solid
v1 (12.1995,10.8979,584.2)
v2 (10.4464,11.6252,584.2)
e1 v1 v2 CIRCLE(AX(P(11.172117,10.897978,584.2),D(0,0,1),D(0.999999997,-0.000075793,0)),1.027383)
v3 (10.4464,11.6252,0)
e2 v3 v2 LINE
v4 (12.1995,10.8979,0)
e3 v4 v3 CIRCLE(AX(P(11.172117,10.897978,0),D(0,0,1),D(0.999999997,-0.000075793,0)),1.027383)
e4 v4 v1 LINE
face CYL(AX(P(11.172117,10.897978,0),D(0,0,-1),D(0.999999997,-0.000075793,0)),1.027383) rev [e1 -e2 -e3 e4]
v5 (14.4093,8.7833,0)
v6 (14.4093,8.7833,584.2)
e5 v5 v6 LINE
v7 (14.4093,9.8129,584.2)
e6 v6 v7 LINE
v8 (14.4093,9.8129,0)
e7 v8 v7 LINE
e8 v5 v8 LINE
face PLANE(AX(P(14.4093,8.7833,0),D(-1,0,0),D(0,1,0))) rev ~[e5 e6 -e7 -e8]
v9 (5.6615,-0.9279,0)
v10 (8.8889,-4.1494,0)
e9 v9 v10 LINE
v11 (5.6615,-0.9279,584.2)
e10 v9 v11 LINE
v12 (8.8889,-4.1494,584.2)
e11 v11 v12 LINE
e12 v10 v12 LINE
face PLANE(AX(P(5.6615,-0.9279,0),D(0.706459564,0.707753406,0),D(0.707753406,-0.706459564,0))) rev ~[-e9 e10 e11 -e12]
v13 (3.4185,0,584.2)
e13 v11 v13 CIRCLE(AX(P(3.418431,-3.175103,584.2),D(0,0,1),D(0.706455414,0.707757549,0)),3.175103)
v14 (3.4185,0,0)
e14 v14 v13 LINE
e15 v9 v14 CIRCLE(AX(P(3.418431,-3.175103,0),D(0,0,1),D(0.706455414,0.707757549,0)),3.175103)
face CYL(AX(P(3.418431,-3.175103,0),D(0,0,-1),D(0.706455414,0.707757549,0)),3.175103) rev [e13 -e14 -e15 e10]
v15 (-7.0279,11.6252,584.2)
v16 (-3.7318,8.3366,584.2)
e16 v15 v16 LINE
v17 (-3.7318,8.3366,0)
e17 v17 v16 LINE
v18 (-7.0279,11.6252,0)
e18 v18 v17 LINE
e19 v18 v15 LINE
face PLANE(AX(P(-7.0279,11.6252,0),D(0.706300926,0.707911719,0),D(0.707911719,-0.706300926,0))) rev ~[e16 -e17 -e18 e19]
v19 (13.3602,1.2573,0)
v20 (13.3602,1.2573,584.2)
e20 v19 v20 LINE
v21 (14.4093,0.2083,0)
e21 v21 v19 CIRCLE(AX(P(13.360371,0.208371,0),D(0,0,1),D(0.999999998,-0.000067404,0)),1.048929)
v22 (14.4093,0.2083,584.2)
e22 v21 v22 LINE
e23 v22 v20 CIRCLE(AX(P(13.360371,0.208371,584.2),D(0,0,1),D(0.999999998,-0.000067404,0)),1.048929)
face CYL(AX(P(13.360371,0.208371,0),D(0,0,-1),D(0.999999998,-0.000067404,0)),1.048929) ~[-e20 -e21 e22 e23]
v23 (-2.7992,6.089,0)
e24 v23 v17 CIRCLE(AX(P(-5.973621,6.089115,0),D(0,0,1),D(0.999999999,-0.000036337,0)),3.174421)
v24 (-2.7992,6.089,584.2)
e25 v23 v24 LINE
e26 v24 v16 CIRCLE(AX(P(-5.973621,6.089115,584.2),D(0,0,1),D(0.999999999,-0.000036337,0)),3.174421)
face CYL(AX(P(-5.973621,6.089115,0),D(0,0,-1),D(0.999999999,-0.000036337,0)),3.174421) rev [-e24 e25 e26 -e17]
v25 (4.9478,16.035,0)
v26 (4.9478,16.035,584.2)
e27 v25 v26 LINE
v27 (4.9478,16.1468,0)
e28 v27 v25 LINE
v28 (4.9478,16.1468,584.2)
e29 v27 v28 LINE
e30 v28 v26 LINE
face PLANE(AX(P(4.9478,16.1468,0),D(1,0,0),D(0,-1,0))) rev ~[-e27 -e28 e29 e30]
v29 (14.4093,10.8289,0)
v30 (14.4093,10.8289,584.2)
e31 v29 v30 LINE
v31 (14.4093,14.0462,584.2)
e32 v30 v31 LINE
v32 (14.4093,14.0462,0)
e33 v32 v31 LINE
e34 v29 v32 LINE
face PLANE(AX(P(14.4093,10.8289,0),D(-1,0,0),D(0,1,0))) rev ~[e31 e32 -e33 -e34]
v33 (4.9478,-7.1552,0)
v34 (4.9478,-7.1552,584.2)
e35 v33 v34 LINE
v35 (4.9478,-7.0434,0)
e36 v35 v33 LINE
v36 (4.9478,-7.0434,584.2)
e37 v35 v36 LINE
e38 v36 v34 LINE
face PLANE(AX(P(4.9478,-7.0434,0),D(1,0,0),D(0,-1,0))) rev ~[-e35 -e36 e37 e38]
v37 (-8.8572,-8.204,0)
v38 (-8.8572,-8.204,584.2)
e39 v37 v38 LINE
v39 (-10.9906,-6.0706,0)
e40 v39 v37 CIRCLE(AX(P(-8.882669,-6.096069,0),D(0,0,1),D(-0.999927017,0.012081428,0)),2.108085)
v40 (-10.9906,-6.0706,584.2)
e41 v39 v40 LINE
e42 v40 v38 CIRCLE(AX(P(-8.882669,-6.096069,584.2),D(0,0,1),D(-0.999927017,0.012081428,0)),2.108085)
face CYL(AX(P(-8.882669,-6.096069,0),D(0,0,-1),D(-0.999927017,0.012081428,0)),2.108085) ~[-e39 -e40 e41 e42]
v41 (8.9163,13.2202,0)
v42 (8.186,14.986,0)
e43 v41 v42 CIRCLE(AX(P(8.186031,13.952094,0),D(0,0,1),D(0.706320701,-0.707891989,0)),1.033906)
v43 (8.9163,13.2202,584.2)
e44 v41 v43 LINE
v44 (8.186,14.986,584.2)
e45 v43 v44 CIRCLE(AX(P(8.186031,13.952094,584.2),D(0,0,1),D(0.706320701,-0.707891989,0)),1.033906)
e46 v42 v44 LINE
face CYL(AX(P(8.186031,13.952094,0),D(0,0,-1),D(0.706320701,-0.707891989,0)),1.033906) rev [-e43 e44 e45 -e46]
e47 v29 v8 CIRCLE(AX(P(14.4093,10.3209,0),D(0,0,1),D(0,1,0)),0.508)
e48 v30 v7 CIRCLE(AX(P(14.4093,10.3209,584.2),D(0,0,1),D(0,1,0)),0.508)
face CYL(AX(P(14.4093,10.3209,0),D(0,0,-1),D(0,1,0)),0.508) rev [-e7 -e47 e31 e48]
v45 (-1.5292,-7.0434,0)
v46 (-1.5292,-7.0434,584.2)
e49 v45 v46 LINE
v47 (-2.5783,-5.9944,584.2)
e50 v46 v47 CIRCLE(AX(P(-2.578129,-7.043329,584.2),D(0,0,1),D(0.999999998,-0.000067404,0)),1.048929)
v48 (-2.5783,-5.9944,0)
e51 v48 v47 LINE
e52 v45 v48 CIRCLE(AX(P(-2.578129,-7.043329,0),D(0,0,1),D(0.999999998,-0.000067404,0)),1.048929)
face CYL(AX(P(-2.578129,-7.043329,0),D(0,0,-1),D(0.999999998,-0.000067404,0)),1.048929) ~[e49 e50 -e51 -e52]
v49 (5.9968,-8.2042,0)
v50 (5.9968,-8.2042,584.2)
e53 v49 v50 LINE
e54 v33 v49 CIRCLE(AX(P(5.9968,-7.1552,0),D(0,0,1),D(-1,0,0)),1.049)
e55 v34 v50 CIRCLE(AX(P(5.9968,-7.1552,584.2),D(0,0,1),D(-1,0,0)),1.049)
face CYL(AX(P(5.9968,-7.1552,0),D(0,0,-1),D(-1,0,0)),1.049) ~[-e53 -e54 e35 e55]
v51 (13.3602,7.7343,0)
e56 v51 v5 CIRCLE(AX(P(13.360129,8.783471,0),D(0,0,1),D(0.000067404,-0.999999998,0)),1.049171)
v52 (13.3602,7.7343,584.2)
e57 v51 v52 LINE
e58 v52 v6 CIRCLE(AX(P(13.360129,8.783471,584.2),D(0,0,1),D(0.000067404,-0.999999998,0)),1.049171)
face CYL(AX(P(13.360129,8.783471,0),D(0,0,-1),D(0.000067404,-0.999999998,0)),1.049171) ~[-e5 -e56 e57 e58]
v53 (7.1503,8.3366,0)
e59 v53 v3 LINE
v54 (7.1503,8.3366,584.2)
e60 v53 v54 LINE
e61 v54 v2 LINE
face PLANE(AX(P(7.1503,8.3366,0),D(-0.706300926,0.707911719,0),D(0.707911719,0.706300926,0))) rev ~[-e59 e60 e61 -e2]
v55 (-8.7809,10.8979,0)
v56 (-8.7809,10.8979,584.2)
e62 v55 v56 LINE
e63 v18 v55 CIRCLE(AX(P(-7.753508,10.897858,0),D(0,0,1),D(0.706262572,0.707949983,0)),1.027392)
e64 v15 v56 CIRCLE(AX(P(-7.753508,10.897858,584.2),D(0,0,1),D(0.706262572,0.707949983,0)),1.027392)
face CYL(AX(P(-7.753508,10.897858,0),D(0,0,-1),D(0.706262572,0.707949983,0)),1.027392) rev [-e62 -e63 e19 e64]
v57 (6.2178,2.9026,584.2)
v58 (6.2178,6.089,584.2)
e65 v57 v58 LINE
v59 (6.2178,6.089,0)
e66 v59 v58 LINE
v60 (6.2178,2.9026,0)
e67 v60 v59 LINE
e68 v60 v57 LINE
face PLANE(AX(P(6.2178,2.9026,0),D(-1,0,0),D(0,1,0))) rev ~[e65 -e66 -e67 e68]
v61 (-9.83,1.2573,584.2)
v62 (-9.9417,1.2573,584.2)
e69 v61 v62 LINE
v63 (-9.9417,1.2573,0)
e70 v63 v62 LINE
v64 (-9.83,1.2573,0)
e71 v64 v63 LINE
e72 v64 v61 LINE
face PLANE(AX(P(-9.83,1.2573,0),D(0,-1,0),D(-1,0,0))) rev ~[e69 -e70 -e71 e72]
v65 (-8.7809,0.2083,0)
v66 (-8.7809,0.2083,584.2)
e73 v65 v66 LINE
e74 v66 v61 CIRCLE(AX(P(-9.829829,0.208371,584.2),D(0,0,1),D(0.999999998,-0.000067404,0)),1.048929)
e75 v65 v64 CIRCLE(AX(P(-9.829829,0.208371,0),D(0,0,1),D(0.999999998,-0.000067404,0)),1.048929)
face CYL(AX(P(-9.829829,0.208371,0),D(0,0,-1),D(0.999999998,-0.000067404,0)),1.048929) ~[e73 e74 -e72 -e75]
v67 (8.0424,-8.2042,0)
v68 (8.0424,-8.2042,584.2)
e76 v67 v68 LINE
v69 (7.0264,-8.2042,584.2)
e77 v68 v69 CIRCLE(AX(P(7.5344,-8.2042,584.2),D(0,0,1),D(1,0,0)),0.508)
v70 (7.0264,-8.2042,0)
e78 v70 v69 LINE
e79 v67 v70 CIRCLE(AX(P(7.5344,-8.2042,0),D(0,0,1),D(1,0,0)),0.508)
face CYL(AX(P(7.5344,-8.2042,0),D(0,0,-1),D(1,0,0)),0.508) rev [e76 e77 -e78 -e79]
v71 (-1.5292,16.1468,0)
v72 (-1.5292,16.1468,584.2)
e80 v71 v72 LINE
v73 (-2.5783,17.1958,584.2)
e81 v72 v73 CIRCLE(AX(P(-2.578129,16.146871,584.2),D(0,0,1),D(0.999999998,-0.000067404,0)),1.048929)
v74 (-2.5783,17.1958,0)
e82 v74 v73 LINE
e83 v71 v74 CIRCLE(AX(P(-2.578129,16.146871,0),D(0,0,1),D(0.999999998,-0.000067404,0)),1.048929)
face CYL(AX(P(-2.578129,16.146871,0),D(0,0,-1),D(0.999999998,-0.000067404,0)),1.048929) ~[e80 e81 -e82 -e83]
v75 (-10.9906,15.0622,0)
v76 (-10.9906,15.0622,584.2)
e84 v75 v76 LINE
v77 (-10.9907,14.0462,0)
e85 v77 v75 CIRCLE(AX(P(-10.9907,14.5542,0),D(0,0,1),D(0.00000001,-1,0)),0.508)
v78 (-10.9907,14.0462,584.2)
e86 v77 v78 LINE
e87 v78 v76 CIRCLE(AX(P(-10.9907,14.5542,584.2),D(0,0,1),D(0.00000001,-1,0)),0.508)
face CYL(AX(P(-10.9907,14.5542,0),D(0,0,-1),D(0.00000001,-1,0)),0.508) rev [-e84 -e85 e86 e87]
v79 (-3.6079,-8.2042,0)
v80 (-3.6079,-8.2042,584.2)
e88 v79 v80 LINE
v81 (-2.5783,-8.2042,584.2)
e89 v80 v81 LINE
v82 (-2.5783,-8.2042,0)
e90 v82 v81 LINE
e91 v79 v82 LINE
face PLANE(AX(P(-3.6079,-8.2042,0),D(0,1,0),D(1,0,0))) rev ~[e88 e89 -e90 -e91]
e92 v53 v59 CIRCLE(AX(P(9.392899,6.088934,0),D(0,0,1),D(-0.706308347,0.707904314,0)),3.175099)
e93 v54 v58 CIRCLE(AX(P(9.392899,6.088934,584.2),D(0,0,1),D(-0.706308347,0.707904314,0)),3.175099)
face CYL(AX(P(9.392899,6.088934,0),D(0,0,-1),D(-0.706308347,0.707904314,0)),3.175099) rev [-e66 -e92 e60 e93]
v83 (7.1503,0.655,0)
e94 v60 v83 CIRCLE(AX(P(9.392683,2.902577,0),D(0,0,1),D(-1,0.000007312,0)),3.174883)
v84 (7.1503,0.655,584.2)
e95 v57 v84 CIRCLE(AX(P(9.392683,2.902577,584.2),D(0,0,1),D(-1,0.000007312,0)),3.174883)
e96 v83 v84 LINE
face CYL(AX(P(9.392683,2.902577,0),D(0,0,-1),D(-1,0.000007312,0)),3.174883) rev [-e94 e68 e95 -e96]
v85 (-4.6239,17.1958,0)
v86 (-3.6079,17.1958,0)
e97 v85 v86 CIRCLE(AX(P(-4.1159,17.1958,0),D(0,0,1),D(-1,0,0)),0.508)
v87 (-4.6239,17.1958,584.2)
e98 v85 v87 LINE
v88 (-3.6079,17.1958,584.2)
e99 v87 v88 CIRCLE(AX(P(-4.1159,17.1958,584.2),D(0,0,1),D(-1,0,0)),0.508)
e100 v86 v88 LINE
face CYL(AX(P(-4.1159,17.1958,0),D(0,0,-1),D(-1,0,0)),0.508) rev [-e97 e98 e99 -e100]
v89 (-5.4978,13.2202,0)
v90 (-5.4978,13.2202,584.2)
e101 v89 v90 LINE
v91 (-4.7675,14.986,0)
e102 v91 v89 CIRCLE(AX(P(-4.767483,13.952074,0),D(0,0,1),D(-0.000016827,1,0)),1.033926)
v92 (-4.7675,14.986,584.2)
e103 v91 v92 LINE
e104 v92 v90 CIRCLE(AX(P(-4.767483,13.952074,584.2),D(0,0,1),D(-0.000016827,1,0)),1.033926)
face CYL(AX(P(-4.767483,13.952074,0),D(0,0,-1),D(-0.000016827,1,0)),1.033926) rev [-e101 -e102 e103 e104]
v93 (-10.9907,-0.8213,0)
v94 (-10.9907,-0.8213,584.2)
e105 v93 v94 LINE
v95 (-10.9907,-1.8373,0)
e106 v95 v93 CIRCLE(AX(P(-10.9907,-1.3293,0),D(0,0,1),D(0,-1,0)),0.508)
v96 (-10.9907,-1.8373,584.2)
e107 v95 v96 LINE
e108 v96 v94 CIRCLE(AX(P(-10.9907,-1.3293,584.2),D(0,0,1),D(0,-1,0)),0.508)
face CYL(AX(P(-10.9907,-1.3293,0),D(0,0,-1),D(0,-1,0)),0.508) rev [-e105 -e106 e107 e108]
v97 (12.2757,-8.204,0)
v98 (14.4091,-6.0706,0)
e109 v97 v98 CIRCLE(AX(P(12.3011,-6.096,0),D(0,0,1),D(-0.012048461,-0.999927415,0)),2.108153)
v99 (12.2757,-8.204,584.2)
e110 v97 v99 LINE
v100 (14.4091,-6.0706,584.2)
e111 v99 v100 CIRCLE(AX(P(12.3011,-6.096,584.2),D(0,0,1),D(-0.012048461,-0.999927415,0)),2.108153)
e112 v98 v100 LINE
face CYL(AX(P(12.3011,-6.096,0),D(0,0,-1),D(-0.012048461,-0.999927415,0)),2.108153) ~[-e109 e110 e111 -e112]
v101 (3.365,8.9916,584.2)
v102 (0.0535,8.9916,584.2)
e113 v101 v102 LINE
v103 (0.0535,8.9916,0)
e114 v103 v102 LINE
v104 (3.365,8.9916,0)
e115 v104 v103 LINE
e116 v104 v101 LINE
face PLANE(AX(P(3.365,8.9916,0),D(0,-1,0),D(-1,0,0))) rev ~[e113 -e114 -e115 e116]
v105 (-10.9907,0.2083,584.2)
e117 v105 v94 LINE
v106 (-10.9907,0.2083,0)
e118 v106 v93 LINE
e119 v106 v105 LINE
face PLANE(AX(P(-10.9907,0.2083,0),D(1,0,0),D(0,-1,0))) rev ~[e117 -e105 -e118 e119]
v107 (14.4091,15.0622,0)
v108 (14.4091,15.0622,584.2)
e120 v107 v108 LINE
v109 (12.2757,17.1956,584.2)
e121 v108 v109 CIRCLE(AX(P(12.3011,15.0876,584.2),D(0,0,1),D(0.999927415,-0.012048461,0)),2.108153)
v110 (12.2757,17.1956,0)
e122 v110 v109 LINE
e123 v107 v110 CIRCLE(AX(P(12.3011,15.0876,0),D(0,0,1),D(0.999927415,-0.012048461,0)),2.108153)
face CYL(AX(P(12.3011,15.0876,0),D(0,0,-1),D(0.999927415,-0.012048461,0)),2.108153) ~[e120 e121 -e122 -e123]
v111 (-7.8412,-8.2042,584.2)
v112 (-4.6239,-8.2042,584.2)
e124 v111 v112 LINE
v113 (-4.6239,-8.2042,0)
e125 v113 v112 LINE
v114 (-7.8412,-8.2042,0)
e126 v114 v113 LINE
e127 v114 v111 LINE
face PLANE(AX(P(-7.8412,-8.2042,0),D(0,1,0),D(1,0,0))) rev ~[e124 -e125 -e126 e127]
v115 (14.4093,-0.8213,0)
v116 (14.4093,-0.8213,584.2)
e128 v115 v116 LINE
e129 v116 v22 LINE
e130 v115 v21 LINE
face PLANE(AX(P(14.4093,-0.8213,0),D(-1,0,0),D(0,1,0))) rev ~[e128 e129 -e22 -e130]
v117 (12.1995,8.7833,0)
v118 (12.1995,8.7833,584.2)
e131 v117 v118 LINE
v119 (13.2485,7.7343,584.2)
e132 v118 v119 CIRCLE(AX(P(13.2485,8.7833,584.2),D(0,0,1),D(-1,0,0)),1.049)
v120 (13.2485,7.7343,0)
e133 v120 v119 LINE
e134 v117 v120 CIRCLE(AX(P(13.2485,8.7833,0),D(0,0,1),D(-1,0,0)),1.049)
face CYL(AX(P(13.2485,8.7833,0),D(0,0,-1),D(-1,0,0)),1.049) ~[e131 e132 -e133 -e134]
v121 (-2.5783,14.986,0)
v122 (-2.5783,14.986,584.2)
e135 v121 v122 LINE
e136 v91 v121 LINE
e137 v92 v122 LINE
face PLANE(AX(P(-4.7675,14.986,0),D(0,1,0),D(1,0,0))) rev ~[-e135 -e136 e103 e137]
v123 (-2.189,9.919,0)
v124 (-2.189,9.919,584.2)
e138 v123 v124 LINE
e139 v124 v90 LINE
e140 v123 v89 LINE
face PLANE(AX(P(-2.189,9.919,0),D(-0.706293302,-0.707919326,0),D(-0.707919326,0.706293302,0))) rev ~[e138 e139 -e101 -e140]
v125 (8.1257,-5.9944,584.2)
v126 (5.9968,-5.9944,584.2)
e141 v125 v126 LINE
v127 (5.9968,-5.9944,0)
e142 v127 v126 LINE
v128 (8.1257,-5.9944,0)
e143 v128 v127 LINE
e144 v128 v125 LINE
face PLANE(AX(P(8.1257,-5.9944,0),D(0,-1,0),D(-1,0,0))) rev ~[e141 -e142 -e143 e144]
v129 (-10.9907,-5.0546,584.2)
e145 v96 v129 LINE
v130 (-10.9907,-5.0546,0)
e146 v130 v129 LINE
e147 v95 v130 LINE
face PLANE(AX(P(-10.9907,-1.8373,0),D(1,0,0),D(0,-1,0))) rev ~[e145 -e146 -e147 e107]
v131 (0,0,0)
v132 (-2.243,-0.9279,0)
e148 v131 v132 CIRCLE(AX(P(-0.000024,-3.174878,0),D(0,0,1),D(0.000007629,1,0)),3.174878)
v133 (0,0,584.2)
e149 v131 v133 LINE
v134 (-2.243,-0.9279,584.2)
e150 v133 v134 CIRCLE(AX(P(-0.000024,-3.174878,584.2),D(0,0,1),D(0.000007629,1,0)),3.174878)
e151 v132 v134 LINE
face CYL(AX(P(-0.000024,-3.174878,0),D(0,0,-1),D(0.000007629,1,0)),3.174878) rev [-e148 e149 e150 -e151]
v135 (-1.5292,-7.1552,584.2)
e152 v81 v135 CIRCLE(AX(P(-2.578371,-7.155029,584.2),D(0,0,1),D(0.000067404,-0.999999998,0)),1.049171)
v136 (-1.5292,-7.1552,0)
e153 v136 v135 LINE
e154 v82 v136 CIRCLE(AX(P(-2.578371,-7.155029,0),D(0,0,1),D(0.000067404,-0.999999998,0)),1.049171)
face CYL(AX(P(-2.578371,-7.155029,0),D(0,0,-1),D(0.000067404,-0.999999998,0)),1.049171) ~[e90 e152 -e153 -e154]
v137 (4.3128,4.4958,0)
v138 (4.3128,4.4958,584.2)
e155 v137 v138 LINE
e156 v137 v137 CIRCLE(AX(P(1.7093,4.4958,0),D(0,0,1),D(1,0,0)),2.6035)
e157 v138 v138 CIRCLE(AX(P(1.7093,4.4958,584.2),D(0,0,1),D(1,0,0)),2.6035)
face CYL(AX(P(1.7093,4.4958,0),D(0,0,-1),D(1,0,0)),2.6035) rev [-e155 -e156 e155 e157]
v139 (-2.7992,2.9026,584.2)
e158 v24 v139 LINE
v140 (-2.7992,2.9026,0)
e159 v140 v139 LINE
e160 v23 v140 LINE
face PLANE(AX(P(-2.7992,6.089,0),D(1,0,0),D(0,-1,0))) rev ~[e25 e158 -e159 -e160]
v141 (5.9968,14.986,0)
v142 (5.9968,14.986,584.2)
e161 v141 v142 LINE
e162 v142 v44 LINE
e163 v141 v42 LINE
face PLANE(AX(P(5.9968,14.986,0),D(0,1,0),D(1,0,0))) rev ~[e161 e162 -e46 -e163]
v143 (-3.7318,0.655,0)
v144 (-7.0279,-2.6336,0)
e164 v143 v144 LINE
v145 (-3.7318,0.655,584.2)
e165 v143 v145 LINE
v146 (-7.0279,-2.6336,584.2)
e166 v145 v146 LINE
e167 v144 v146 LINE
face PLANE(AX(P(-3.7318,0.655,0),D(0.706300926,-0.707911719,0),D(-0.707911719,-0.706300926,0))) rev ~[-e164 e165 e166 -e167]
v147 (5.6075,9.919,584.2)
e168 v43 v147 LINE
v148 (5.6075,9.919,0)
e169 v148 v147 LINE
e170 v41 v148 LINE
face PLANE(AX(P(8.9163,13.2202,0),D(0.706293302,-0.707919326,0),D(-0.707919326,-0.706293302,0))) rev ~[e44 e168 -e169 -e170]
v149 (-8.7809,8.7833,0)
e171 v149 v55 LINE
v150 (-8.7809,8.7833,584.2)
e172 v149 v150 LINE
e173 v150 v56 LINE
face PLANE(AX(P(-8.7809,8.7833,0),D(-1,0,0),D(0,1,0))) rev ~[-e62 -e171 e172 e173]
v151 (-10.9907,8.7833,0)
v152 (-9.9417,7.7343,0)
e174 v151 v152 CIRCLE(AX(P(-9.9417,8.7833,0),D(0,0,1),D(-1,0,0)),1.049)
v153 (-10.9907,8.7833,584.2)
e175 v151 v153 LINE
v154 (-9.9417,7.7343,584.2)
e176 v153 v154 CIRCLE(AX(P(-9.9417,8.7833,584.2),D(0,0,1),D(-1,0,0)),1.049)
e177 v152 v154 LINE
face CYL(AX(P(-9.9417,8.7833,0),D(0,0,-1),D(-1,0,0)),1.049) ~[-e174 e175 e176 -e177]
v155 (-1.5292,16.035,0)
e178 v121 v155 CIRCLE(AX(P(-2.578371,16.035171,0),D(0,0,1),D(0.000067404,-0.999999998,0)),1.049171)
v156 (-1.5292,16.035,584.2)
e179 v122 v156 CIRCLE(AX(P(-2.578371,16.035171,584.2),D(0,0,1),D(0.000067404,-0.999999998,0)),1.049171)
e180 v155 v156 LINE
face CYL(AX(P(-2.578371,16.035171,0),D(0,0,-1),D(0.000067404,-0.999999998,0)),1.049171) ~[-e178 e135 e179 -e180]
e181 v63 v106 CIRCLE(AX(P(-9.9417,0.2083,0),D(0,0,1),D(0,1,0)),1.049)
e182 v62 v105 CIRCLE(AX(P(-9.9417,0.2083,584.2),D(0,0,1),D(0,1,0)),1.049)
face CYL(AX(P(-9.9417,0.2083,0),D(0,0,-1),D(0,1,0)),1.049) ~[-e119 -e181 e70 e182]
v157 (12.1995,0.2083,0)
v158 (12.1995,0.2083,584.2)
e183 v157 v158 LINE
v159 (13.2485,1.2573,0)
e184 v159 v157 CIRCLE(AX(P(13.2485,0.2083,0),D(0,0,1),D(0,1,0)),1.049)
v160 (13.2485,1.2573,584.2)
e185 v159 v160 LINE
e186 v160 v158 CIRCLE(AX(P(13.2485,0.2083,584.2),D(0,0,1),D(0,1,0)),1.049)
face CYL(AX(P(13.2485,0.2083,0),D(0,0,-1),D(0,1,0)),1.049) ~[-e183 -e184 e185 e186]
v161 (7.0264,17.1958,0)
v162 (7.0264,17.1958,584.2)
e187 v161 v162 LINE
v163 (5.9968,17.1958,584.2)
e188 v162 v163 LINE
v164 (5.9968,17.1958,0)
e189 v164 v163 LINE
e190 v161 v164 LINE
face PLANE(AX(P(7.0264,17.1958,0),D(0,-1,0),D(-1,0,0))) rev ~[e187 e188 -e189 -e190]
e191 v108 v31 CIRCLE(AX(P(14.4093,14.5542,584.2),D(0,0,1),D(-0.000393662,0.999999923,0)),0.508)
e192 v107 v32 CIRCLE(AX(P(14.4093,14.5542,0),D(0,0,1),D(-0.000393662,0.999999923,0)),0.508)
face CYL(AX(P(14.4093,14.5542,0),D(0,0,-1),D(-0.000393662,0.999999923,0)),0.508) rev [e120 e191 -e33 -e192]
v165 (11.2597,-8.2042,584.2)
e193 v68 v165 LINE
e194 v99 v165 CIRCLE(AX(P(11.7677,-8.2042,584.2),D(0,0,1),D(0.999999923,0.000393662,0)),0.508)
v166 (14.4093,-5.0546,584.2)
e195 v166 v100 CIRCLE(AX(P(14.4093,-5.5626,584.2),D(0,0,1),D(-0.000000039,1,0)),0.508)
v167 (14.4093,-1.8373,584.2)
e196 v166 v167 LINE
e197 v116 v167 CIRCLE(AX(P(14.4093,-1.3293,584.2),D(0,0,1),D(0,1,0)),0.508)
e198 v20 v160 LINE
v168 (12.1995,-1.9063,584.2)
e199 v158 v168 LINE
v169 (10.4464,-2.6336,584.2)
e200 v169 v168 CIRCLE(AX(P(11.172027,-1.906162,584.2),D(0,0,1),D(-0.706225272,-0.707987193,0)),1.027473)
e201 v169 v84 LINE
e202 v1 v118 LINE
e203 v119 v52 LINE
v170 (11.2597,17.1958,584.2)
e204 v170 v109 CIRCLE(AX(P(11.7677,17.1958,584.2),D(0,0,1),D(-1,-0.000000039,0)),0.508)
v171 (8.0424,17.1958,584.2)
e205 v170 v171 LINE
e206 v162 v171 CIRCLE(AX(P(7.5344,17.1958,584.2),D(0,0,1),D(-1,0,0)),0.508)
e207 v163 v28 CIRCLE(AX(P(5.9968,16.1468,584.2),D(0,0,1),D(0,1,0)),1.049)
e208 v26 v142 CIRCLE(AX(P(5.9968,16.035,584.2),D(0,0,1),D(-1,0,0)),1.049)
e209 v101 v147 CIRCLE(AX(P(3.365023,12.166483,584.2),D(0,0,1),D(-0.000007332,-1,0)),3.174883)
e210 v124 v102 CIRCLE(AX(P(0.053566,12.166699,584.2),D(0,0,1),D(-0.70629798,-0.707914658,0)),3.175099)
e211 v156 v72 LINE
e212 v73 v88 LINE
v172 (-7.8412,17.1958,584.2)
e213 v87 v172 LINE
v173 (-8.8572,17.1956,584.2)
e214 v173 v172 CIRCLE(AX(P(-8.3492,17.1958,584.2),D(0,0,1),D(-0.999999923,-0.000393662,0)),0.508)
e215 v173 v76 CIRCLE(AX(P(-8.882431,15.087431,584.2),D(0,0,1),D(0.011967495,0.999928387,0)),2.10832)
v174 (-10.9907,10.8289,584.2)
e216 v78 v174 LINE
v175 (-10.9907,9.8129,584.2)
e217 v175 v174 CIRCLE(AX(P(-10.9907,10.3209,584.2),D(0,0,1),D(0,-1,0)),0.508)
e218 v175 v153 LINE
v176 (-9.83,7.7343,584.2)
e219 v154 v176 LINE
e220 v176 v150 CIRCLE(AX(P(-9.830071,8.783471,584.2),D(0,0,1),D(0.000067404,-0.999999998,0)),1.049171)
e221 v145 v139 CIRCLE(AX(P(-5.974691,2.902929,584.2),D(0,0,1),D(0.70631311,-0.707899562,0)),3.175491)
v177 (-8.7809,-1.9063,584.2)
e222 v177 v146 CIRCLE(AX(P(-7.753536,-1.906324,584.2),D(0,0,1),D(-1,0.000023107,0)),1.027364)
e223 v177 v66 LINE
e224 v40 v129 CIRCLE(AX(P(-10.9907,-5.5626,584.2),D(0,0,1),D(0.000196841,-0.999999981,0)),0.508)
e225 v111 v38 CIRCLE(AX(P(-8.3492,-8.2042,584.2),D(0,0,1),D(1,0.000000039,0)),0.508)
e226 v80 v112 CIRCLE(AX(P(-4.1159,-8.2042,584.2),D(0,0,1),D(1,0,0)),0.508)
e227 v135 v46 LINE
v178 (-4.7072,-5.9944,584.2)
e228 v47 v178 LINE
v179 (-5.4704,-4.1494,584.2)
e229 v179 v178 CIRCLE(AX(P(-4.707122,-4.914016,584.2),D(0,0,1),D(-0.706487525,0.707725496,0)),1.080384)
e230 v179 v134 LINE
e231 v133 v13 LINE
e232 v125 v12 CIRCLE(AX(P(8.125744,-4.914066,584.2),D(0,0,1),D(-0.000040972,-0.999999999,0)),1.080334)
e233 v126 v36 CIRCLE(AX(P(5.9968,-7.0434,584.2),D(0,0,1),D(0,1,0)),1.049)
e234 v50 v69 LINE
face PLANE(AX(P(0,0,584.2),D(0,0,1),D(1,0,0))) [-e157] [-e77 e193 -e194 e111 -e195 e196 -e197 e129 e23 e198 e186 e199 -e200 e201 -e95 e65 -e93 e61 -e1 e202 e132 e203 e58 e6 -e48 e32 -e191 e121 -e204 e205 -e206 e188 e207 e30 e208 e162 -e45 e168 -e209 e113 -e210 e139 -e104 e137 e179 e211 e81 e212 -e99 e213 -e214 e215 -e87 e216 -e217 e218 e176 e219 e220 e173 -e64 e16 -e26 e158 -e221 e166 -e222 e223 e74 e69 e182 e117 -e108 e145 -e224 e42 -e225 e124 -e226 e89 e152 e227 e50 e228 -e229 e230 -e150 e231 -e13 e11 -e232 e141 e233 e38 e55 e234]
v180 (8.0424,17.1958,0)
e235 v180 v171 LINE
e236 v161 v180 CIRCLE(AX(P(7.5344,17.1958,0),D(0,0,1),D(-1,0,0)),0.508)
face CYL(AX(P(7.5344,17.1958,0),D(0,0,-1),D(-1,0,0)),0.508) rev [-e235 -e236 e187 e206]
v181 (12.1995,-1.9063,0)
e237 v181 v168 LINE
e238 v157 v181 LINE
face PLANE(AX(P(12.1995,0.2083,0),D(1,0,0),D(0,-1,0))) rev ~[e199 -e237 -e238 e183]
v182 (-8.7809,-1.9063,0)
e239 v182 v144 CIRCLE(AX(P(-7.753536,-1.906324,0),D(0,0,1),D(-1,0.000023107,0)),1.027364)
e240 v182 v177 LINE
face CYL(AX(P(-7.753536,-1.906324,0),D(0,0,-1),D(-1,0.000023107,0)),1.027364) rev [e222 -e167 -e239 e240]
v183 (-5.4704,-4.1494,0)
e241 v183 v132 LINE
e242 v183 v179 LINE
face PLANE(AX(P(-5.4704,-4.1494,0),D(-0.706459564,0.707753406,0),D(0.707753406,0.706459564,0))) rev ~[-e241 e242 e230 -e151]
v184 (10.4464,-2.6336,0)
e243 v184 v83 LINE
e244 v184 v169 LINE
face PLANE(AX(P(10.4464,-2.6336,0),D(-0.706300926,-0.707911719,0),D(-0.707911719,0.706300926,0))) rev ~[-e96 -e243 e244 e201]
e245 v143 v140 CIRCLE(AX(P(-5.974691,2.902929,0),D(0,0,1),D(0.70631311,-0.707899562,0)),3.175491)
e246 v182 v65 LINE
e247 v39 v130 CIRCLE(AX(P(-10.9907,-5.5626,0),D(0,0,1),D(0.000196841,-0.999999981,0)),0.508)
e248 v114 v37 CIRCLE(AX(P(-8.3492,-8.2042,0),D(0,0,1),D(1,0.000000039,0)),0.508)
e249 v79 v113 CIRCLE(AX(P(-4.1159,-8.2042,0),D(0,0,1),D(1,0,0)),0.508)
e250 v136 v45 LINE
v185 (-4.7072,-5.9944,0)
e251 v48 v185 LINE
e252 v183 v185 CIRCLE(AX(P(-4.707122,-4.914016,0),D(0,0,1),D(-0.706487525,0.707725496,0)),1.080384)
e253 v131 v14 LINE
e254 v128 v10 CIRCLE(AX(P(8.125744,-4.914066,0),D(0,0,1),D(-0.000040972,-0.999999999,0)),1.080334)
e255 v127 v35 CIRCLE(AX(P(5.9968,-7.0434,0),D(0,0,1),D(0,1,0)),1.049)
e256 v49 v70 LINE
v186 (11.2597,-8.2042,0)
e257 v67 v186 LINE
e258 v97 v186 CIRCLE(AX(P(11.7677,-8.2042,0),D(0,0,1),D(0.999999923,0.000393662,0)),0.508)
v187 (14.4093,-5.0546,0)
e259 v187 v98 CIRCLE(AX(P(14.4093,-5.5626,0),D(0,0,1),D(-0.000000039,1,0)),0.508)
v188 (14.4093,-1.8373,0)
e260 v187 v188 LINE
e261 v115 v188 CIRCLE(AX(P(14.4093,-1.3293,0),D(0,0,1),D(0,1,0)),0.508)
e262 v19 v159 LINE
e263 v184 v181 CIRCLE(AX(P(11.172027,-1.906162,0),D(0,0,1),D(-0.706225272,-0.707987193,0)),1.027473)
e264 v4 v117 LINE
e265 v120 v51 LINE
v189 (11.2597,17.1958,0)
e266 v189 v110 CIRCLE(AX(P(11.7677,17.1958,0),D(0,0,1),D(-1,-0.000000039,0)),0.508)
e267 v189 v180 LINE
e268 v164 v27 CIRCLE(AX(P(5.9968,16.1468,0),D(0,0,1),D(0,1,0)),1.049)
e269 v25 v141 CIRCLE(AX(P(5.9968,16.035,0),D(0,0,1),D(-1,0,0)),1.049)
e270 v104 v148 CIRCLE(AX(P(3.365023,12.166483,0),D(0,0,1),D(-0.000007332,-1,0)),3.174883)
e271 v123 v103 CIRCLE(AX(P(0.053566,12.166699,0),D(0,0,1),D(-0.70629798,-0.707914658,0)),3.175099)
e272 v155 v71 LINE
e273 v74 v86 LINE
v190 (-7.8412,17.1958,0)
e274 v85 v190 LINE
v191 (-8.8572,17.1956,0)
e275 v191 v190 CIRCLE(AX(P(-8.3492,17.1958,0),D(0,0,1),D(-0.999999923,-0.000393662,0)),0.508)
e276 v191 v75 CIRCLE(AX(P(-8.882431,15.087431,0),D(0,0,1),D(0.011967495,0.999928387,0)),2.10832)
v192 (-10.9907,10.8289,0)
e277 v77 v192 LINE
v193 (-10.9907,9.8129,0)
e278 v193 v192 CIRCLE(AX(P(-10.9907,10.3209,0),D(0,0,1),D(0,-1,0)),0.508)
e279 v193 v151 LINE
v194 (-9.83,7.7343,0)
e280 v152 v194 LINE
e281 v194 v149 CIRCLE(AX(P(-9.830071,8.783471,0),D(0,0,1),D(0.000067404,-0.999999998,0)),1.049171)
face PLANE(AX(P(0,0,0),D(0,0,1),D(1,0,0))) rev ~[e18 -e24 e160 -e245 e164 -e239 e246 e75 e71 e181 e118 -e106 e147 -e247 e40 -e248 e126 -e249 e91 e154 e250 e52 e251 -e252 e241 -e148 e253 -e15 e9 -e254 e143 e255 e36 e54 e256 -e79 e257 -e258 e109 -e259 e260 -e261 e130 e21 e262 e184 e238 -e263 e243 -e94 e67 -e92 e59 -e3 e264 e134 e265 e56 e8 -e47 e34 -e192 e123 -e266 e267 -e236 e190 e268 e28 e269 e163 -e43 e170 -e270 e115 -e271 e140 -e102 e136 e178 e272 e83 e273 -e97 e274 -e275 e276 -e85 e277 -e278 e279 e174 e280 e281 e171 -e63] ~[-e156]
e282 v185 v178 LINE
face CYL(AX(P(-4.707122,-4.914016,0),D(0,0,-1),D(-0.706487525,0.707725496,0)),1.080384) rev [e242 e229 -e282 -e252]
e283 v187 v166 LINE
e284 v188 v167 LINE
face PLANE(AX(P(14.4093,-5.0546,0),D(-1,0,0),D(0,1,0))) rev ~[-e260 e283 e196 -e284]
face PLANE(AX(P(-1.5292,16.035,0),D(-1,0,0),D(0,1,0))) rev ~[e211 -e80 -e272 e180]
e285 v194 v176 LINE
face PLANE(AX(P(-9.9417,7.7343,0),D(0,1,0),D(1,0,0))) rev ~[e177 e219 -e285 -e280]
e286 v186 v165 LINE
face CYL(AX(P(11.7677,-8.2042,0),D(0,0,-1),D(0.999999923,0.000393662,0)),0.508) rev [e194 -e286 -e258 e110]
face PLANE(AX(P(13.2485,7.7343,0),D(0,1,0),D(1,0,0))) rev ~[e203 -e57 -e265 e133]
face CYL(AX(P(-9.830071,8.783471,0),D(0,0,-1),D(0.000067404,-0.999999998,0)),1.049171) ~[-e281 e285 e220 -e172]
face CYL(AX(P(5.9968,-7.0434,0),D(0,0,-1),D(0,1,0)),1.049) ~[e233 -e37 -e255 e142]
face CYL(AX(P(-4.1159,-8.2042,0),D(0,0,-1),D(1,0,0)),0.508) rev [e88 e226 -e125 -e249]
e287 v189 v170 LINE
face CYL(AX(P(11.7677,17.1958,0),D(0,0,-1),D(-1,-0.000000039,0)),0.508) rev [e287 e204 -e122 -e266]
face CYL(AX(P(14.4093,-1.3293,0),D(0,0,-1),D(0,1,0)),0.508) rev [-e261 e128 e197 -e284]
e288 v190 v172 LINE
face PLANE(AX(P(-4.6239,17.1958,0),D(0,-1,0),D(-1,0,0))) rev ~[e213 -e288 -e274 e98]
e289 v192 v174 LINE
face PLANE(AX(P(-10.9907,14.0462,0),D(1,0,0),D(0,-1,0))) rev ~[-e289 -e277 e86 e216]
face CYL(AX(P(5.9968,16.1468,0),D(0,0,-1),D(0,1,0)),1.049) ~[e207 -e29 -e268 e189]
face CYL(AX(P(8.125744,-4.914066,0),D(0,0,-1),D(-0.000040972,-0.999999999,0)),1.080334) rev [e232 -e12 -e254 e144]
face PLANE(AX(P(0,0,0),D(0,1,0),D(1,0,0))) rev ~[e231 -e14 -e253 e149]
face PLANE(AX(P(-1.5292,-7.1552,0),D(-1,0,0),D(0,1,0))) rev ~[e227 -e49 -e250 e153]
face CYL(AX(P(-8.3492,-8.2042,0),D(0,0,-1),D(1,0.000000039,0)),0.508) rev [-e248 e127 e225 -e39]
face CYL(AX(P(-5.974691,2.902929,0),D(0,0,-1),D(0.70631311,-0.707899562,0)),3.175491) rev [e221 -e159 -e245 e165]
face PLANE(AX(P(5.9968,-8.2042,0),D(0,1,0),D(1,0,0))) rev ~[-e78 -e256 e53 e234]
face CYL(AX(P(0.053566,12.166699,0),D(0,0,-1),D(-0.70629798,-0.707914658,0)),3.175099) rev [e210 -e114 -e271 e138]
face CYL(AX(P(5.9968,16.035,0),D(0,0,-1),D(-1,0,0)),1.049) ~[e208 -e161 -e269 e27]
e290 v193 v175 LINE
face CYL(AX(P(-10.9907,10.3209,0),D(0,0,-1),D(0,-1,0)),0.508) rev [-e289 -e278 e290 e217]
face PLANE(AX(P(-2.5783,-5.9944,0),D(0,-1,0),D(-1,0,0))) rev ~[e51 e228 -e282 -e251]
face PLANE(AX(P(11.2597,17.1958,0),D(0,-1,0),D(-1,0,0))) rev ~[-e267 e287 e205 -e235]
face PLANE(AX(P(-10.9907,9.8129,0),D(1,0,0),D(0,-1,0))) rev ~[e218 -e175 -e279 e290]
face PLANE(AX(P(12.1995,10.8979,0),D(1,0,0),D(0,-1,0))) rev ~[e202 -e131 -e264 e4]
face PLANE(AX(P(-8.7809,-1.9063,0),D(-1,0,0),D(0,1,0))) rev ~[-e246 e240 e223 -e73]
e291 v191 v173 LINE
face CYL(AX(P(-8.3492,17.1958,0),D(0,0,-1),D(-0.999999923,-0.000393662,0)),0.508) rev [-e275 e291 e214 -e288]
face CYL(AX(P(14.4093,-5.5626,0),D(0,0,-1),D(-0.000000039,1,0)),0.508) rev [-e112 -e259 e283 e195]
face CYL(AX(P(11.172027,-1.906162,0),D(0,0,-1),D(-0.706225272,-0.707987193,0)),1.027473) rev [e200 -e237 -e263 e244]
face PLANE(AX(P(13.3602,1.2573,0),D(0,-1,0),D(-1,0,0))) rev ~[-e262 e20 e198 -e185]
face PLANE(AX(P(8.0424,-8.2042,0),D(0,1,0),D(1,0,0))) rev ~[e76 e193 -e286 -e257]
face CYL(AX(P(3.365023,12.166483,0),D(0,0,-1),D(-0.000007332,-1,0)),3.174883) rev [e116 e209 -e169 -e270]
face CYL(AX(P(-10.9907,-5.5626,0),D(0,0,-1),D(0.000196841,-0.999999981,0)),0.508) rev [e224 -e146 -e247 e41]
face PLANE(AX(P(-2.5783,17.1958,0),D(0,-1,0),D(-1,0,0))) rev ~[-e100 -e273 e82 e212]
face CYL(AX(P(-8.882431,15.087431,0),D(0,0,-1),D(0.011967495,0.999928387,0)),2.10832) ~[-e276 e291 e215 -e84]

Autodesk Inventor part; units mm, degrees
ref_plane "YZ Plane" through (0, 0, 0) normal (1, 0, 0) x (0, 1, 0)
ref_plane "XZ Plane" through (0, 0, 0) normal (0, 1, 0) x (-1, 0, 0)
ref_plane "XY Plane" through (0, 0, 0) normal (0, 0, 1) x (1, 0, 0)
sketch "Sketch1" plane through (0, 0, 0) normal (0, 0, 1) x (1, 0, 0)
  arc A0 (-5.4704, -4.1494) -> (-4.7072, -5.9944) centre (-4.7072, -4.914) ccw
  line L0 (-5.4704, -4.1494) -> (-2.243, -0.9279)
  arc A1 (0, 0) -> (-2.243, -0.9279) centre (0, -3.175) ccw
  line L1 (0, 0) -> (3.4185, 0)
  arc A2 (5.6615, -0.9279) -> (3.4185, 0) centre (3.4185, -3.175) ccw
  line L2 (5.6615, -0.9279) -> (8.8889, -4.1494)
  arc A3 (8.1257, -5.9944) -> (8.8889, -4.1494) centre (8.1257, -4.914) ccw
  line L3 (8.1257, -5.9944) -> (5.9968, -5.9944)
  arc A4 (5.9968, -5.9944) -> (4.9478, -7.0434) centre (5.9968, -7.0434) ccw
  line L4 (4.9478, -7.0434) -> (4.9478, -7.1552)
  arc A5 (4.9478, -7.1552) -> (5.9968, -8.2042) centre (5.9968, -7.1552) ccw
  line L5 (5.9968, -8.2042) -> (7.0264, -8.2042)
  arc A6 (8.0424, -8.2042) -> (7.0264, -8.2042) centre (7.5344, -8.2042) ccw
  line L6 (8.0424, -8.2042) -> (11.2597, -8.2042)
  arc A7 (12.2757, -8.204) -> (11.2597, -8.2042) centre (11.7677, -8.2042) ccw
  arc A8 (12.2757, -8.204) -> (14.4091, -6.0706) centre (12.3011, -6.096) ccw
  arc A9 (14.4093, -5.0546) -> (14.4091, -6.0706) centre (14.4093, -5.5626) ccw
  line L7 (14.4093, -5.0546) -> (14.4093, -1.8373)
  arc A10 (14.4093, -0.8213) -> (14.4093, -1.8373) centre (14.4093, -1.3293) ccw
  line L8 (14.4093, -0.8213) -> (14.4093, 0.2083)
  arc A11 (14.4093, 0.2083) -> (13.3602, 1.2573) centre (13.3602, 0.2083) ccw
  line L9 (13.3602, 1.2573) -> (13.2485, 1.2573)
  arc A12 (13.2485, 1.2573) -> (12.1995, 0.2083) centre (13.2485, 0.2083) ccw
  line L10 (12.1995, 0.2083) -> (12.1995, -1.9063)
  arc A13 (10.4464, -2.6336) -> (12.1995, -1.9063) centre (11.172, -1.9063) ccw
  line L11 (10.4464, -2.6336) -> (7.1503, 0.655)
  arc A14 (6.2178, 2.9026) -> (7.1503, 0.655) centre (9.3928, 2.9026) ccw
  line L12 (6.2178, 2.9026) -> (6.2178, 6.089)
  arc A15 (7.1503, 8.3366) -> (6.2178, 6.089) centre (9.3928, 6.089) ccw
  line L13 (7.1503, 8.3366) -> (10.4464, 11.6252)
  arc A16 (12.1995, 10.8979) -> (10.4464, 11.6252) centre (11.172, 10.8979) ccw
  line L14 (12.1995, 10.8979) -> (12.1995, 8.7833)
  arc A17 (12.1995, 8.7833) -> (13.2485, 7.7343) centre (13.2485, 8.7833) ccw
  line L15 (13.2485, 7.7343) -> (13.3602, 7.7343)
  arc A18 (13.3602, 7.7343) -> (14.4093, 8.7833) centre (13.3602, 8.7833) ccw
  line L16 (14.4093, 8.7833) -> (14.4093, 9.8129)
  arc A19 (14.4093, 10.8289) -> (14.4093, 9.8129) centre (14.4093, 10.3209) ccw
  line L17 (14.4093, 10.8289) -> (14.4093, 14.0462)
  arc A20 (14.4091, 15.0622) -> (14.4093, 14.0462) centre (14.4093, 14.5542) ccw
  arc A21 (14.4091, 15.0622) -> (12.2757, 17.1956) centre (12.3011, 15.0876) ccw
  arc A22 (11.2597, 17.1958) -> (12.2757, 17.1956) centre (11.7677, 17.1958) ccw
  line L18 (11.2597, 17.1958) -> (8.0424, 17.1958)
  arc A23 (7.0264, 17.1958) -> (8.0424, 17.1958) centre (7.5344, 17.1958) ccw
  line L19 (7.0264, 17.1958) -> (5.9968, 17.1958)
  arc A24 (5.9968, 17.1958) -> (4.9478, 16.1468) centre (5.9968, 16.1468) ccw
  line L20 (4.9478, 16.1468) -> (4.9478, 16.035)
  arc A25 (4.9478, 16.035) -> (5.9968, 14.986) centre (5.9968, 16.035) ccw
  line L21 (5.9968, 14.986) -> (8.186, 14.986)
  arc A26 (8.9163, 13.2202) -> (8.186, 14.986) centre (8.186, 13.9521) ccw
  line L22 (8.9163, 13.2202) -> (5.6075, 9.919)
  arc A27 (3.365, 8.9916) -> (5.6075, 9.919) centre (3.365, 12.1666) ccw
  line L23 (3.365, 8.9916) -> (0.0535, 8.9916)
  arc A28 (-2.189, 9.919) -> (0.0535, 8.9916) centre (0.0535, 12.1666) ccw
  line L24 (-2.189, 9.919) -> (-5.4978, 13.2202)
  arc A29 (-4.7675, 14.986) -> (-5.4978, 13.2202) centre (-4.7675, 13.9521) ccw
  line L25 (-4.7675, 14.986) -> (-2.5783, 14.986)
  arc A30 (-2.5783, 14.986) -> (-1.5292, 16.035) centre (-2.5783, 16.035) ccw
  line L26 (-1.5292, 16.035) -> (-1.5292, 16.1468)
  arc A31 (-1.5292, 16.1468) -> (-2.5783, 17.1958) centre (-2.5783, 16.1468) ccw
  line L27 (-2.5783, 17.1958) -> (-3.6079, 17.1958)
  arc A32 (-4.6239, 17.1958) -> (-3.6079, 17.1958) centre (-4.1159, 17.1958) ccw
  line L28 (-4.6239, 17.1958) -> (-7.8412, 17.1958)
  arc A33 (-8.8572, 17.1956) -> (-7.8412, 17.1958) centre (-8.3492, 17.1958) ccw
  arc A34 (-8.8572, 17.1956) -> (-10.9906, 15.0622) centre (-8.8825, 15.0876) ccw
  arc A35 (-10.9907, 14.0462) -> (-10.9906, 15.0622) centre (-10.9907, 14.5542) ccw
  line L29 (-10.9907, 14.0462) -> (-10.9907, 10.8289)
  arc A36 (-10.9907, 9.8129) -> (-10.9907, 10.8289) centre (-10.9907, 10.3209) ccw
  line L30 (-10.9907, 9.8129) -> (-10.9907, 8.7833)
  arc A37 (-10.9907, 8.7833) -> (-9.9417, 7.7343) centre (-9.9417, 8.7833) ccw
  line L31 (-9.9417, 7.7343) -> (-9.83, 7.7343)
  arc A38 (-9.83, 7.7343) -> (-8.7809, 8.7833) centre (-9.83, 8.7833) ccw
  line L32 (-8.7809, 8.7833) -> (-8.7809, 10.8979)
  arc A39 (-7.0279, 11.6252) -> (-8.7809, 10.8979) centre (-7.7535, 10.8979) ccw
  line L33 (-7.0279, 11.6252) -> (-3.7318, 8.3366)
  arc A40 (-2.7992, 6.089) -> (-3.7318, 8.3366) centre (-5.9742, 6.089) ccw
  line L34 (-2.7992, 6.089) -> (-2.7992, 2.9026)
  arc A41 (-3.7318, 0.655) -> (-2.7992, 2.9026) centre (-5.9742, 2.9026) ccw
  line L35 (-3.7318, 0.655) -> (-7.0279, -2.6336)
  arc A42 (-8.7809, -1.9063) -> (-7.0279, -2.6336) centre (-7.7535, -1.9063) ccw
  line L36 (-8.7809, -1.9063) -> (-8.7809, 0.2083)
  arc A43 (-8.7809, 0.2083) -> (-9.83, 1.2573) centre (-9.83, 0.2083) ccw
  line L37 (-9.83, 1.2573) -> (-9.9417, 1.2573)
  arc A44 (-9.9417, 1.2573) -> (-10.9907, 0.2083) centre (-9.9417, 0.2083) ccw
  line L38 (-10.9907, 0.2083) -> (-10.9907, -0.8213)
  arc A45 (-10.9907, -1.8373) -> (-10.9907, -0.8213) centre (-10.9907, -1.3293) ccw
  line L39 (-10.9907, -1.8373) -> (-10.9907, -5.0546)
  arc A46 (-10.9906, -6.0706) -> (-10.9907, -5.0546) centre (-10.9907, -5.5626) ccw
  arc A47 (-10.9906, -6.0706) -> (-8.8572, -8.204) centre (-8.8825, -6.096) ccw
  arc A48 (-7.8412, -8.2042) -> (-8.8572, -8.204) centre (-8.3492, -8.2042) ccw
  line L40 (-7.8412, -8.2042) -> (-4.6239, -8.2042)
  arc A49 (-3.6079, -8.2042) -> (-4.6239, -8.2042) centre (-4.1159, -8.2042) ccw
  line L41 (-3.6079, -8.2042) -> (-2.5783, -8.2042)
  arc A50 (-2.5783, -8.2042) -> (-1.5292, -7.1552) centre (-2.5783, -7.1552) ccw
  line L42 (-1.5292, -7.1552) -> (-1.5292, -7.0434)
  arc A51 (-1.5292, -7.0434) -> (-2.5783, -5.9944) centre (-2.5783, -7.0434) ccw
  line L43 (-2.5783, -5.9944) -> (-4.7072, -5.9944)
  circle A52 centre (1.7093, 4.4958) radius 2.6035
extrude "Extrusion1" add sketch "Sketch1" along normal blind 584.2
properties part number "23 in 1x1 T slot" material "Steel, Alloy"
